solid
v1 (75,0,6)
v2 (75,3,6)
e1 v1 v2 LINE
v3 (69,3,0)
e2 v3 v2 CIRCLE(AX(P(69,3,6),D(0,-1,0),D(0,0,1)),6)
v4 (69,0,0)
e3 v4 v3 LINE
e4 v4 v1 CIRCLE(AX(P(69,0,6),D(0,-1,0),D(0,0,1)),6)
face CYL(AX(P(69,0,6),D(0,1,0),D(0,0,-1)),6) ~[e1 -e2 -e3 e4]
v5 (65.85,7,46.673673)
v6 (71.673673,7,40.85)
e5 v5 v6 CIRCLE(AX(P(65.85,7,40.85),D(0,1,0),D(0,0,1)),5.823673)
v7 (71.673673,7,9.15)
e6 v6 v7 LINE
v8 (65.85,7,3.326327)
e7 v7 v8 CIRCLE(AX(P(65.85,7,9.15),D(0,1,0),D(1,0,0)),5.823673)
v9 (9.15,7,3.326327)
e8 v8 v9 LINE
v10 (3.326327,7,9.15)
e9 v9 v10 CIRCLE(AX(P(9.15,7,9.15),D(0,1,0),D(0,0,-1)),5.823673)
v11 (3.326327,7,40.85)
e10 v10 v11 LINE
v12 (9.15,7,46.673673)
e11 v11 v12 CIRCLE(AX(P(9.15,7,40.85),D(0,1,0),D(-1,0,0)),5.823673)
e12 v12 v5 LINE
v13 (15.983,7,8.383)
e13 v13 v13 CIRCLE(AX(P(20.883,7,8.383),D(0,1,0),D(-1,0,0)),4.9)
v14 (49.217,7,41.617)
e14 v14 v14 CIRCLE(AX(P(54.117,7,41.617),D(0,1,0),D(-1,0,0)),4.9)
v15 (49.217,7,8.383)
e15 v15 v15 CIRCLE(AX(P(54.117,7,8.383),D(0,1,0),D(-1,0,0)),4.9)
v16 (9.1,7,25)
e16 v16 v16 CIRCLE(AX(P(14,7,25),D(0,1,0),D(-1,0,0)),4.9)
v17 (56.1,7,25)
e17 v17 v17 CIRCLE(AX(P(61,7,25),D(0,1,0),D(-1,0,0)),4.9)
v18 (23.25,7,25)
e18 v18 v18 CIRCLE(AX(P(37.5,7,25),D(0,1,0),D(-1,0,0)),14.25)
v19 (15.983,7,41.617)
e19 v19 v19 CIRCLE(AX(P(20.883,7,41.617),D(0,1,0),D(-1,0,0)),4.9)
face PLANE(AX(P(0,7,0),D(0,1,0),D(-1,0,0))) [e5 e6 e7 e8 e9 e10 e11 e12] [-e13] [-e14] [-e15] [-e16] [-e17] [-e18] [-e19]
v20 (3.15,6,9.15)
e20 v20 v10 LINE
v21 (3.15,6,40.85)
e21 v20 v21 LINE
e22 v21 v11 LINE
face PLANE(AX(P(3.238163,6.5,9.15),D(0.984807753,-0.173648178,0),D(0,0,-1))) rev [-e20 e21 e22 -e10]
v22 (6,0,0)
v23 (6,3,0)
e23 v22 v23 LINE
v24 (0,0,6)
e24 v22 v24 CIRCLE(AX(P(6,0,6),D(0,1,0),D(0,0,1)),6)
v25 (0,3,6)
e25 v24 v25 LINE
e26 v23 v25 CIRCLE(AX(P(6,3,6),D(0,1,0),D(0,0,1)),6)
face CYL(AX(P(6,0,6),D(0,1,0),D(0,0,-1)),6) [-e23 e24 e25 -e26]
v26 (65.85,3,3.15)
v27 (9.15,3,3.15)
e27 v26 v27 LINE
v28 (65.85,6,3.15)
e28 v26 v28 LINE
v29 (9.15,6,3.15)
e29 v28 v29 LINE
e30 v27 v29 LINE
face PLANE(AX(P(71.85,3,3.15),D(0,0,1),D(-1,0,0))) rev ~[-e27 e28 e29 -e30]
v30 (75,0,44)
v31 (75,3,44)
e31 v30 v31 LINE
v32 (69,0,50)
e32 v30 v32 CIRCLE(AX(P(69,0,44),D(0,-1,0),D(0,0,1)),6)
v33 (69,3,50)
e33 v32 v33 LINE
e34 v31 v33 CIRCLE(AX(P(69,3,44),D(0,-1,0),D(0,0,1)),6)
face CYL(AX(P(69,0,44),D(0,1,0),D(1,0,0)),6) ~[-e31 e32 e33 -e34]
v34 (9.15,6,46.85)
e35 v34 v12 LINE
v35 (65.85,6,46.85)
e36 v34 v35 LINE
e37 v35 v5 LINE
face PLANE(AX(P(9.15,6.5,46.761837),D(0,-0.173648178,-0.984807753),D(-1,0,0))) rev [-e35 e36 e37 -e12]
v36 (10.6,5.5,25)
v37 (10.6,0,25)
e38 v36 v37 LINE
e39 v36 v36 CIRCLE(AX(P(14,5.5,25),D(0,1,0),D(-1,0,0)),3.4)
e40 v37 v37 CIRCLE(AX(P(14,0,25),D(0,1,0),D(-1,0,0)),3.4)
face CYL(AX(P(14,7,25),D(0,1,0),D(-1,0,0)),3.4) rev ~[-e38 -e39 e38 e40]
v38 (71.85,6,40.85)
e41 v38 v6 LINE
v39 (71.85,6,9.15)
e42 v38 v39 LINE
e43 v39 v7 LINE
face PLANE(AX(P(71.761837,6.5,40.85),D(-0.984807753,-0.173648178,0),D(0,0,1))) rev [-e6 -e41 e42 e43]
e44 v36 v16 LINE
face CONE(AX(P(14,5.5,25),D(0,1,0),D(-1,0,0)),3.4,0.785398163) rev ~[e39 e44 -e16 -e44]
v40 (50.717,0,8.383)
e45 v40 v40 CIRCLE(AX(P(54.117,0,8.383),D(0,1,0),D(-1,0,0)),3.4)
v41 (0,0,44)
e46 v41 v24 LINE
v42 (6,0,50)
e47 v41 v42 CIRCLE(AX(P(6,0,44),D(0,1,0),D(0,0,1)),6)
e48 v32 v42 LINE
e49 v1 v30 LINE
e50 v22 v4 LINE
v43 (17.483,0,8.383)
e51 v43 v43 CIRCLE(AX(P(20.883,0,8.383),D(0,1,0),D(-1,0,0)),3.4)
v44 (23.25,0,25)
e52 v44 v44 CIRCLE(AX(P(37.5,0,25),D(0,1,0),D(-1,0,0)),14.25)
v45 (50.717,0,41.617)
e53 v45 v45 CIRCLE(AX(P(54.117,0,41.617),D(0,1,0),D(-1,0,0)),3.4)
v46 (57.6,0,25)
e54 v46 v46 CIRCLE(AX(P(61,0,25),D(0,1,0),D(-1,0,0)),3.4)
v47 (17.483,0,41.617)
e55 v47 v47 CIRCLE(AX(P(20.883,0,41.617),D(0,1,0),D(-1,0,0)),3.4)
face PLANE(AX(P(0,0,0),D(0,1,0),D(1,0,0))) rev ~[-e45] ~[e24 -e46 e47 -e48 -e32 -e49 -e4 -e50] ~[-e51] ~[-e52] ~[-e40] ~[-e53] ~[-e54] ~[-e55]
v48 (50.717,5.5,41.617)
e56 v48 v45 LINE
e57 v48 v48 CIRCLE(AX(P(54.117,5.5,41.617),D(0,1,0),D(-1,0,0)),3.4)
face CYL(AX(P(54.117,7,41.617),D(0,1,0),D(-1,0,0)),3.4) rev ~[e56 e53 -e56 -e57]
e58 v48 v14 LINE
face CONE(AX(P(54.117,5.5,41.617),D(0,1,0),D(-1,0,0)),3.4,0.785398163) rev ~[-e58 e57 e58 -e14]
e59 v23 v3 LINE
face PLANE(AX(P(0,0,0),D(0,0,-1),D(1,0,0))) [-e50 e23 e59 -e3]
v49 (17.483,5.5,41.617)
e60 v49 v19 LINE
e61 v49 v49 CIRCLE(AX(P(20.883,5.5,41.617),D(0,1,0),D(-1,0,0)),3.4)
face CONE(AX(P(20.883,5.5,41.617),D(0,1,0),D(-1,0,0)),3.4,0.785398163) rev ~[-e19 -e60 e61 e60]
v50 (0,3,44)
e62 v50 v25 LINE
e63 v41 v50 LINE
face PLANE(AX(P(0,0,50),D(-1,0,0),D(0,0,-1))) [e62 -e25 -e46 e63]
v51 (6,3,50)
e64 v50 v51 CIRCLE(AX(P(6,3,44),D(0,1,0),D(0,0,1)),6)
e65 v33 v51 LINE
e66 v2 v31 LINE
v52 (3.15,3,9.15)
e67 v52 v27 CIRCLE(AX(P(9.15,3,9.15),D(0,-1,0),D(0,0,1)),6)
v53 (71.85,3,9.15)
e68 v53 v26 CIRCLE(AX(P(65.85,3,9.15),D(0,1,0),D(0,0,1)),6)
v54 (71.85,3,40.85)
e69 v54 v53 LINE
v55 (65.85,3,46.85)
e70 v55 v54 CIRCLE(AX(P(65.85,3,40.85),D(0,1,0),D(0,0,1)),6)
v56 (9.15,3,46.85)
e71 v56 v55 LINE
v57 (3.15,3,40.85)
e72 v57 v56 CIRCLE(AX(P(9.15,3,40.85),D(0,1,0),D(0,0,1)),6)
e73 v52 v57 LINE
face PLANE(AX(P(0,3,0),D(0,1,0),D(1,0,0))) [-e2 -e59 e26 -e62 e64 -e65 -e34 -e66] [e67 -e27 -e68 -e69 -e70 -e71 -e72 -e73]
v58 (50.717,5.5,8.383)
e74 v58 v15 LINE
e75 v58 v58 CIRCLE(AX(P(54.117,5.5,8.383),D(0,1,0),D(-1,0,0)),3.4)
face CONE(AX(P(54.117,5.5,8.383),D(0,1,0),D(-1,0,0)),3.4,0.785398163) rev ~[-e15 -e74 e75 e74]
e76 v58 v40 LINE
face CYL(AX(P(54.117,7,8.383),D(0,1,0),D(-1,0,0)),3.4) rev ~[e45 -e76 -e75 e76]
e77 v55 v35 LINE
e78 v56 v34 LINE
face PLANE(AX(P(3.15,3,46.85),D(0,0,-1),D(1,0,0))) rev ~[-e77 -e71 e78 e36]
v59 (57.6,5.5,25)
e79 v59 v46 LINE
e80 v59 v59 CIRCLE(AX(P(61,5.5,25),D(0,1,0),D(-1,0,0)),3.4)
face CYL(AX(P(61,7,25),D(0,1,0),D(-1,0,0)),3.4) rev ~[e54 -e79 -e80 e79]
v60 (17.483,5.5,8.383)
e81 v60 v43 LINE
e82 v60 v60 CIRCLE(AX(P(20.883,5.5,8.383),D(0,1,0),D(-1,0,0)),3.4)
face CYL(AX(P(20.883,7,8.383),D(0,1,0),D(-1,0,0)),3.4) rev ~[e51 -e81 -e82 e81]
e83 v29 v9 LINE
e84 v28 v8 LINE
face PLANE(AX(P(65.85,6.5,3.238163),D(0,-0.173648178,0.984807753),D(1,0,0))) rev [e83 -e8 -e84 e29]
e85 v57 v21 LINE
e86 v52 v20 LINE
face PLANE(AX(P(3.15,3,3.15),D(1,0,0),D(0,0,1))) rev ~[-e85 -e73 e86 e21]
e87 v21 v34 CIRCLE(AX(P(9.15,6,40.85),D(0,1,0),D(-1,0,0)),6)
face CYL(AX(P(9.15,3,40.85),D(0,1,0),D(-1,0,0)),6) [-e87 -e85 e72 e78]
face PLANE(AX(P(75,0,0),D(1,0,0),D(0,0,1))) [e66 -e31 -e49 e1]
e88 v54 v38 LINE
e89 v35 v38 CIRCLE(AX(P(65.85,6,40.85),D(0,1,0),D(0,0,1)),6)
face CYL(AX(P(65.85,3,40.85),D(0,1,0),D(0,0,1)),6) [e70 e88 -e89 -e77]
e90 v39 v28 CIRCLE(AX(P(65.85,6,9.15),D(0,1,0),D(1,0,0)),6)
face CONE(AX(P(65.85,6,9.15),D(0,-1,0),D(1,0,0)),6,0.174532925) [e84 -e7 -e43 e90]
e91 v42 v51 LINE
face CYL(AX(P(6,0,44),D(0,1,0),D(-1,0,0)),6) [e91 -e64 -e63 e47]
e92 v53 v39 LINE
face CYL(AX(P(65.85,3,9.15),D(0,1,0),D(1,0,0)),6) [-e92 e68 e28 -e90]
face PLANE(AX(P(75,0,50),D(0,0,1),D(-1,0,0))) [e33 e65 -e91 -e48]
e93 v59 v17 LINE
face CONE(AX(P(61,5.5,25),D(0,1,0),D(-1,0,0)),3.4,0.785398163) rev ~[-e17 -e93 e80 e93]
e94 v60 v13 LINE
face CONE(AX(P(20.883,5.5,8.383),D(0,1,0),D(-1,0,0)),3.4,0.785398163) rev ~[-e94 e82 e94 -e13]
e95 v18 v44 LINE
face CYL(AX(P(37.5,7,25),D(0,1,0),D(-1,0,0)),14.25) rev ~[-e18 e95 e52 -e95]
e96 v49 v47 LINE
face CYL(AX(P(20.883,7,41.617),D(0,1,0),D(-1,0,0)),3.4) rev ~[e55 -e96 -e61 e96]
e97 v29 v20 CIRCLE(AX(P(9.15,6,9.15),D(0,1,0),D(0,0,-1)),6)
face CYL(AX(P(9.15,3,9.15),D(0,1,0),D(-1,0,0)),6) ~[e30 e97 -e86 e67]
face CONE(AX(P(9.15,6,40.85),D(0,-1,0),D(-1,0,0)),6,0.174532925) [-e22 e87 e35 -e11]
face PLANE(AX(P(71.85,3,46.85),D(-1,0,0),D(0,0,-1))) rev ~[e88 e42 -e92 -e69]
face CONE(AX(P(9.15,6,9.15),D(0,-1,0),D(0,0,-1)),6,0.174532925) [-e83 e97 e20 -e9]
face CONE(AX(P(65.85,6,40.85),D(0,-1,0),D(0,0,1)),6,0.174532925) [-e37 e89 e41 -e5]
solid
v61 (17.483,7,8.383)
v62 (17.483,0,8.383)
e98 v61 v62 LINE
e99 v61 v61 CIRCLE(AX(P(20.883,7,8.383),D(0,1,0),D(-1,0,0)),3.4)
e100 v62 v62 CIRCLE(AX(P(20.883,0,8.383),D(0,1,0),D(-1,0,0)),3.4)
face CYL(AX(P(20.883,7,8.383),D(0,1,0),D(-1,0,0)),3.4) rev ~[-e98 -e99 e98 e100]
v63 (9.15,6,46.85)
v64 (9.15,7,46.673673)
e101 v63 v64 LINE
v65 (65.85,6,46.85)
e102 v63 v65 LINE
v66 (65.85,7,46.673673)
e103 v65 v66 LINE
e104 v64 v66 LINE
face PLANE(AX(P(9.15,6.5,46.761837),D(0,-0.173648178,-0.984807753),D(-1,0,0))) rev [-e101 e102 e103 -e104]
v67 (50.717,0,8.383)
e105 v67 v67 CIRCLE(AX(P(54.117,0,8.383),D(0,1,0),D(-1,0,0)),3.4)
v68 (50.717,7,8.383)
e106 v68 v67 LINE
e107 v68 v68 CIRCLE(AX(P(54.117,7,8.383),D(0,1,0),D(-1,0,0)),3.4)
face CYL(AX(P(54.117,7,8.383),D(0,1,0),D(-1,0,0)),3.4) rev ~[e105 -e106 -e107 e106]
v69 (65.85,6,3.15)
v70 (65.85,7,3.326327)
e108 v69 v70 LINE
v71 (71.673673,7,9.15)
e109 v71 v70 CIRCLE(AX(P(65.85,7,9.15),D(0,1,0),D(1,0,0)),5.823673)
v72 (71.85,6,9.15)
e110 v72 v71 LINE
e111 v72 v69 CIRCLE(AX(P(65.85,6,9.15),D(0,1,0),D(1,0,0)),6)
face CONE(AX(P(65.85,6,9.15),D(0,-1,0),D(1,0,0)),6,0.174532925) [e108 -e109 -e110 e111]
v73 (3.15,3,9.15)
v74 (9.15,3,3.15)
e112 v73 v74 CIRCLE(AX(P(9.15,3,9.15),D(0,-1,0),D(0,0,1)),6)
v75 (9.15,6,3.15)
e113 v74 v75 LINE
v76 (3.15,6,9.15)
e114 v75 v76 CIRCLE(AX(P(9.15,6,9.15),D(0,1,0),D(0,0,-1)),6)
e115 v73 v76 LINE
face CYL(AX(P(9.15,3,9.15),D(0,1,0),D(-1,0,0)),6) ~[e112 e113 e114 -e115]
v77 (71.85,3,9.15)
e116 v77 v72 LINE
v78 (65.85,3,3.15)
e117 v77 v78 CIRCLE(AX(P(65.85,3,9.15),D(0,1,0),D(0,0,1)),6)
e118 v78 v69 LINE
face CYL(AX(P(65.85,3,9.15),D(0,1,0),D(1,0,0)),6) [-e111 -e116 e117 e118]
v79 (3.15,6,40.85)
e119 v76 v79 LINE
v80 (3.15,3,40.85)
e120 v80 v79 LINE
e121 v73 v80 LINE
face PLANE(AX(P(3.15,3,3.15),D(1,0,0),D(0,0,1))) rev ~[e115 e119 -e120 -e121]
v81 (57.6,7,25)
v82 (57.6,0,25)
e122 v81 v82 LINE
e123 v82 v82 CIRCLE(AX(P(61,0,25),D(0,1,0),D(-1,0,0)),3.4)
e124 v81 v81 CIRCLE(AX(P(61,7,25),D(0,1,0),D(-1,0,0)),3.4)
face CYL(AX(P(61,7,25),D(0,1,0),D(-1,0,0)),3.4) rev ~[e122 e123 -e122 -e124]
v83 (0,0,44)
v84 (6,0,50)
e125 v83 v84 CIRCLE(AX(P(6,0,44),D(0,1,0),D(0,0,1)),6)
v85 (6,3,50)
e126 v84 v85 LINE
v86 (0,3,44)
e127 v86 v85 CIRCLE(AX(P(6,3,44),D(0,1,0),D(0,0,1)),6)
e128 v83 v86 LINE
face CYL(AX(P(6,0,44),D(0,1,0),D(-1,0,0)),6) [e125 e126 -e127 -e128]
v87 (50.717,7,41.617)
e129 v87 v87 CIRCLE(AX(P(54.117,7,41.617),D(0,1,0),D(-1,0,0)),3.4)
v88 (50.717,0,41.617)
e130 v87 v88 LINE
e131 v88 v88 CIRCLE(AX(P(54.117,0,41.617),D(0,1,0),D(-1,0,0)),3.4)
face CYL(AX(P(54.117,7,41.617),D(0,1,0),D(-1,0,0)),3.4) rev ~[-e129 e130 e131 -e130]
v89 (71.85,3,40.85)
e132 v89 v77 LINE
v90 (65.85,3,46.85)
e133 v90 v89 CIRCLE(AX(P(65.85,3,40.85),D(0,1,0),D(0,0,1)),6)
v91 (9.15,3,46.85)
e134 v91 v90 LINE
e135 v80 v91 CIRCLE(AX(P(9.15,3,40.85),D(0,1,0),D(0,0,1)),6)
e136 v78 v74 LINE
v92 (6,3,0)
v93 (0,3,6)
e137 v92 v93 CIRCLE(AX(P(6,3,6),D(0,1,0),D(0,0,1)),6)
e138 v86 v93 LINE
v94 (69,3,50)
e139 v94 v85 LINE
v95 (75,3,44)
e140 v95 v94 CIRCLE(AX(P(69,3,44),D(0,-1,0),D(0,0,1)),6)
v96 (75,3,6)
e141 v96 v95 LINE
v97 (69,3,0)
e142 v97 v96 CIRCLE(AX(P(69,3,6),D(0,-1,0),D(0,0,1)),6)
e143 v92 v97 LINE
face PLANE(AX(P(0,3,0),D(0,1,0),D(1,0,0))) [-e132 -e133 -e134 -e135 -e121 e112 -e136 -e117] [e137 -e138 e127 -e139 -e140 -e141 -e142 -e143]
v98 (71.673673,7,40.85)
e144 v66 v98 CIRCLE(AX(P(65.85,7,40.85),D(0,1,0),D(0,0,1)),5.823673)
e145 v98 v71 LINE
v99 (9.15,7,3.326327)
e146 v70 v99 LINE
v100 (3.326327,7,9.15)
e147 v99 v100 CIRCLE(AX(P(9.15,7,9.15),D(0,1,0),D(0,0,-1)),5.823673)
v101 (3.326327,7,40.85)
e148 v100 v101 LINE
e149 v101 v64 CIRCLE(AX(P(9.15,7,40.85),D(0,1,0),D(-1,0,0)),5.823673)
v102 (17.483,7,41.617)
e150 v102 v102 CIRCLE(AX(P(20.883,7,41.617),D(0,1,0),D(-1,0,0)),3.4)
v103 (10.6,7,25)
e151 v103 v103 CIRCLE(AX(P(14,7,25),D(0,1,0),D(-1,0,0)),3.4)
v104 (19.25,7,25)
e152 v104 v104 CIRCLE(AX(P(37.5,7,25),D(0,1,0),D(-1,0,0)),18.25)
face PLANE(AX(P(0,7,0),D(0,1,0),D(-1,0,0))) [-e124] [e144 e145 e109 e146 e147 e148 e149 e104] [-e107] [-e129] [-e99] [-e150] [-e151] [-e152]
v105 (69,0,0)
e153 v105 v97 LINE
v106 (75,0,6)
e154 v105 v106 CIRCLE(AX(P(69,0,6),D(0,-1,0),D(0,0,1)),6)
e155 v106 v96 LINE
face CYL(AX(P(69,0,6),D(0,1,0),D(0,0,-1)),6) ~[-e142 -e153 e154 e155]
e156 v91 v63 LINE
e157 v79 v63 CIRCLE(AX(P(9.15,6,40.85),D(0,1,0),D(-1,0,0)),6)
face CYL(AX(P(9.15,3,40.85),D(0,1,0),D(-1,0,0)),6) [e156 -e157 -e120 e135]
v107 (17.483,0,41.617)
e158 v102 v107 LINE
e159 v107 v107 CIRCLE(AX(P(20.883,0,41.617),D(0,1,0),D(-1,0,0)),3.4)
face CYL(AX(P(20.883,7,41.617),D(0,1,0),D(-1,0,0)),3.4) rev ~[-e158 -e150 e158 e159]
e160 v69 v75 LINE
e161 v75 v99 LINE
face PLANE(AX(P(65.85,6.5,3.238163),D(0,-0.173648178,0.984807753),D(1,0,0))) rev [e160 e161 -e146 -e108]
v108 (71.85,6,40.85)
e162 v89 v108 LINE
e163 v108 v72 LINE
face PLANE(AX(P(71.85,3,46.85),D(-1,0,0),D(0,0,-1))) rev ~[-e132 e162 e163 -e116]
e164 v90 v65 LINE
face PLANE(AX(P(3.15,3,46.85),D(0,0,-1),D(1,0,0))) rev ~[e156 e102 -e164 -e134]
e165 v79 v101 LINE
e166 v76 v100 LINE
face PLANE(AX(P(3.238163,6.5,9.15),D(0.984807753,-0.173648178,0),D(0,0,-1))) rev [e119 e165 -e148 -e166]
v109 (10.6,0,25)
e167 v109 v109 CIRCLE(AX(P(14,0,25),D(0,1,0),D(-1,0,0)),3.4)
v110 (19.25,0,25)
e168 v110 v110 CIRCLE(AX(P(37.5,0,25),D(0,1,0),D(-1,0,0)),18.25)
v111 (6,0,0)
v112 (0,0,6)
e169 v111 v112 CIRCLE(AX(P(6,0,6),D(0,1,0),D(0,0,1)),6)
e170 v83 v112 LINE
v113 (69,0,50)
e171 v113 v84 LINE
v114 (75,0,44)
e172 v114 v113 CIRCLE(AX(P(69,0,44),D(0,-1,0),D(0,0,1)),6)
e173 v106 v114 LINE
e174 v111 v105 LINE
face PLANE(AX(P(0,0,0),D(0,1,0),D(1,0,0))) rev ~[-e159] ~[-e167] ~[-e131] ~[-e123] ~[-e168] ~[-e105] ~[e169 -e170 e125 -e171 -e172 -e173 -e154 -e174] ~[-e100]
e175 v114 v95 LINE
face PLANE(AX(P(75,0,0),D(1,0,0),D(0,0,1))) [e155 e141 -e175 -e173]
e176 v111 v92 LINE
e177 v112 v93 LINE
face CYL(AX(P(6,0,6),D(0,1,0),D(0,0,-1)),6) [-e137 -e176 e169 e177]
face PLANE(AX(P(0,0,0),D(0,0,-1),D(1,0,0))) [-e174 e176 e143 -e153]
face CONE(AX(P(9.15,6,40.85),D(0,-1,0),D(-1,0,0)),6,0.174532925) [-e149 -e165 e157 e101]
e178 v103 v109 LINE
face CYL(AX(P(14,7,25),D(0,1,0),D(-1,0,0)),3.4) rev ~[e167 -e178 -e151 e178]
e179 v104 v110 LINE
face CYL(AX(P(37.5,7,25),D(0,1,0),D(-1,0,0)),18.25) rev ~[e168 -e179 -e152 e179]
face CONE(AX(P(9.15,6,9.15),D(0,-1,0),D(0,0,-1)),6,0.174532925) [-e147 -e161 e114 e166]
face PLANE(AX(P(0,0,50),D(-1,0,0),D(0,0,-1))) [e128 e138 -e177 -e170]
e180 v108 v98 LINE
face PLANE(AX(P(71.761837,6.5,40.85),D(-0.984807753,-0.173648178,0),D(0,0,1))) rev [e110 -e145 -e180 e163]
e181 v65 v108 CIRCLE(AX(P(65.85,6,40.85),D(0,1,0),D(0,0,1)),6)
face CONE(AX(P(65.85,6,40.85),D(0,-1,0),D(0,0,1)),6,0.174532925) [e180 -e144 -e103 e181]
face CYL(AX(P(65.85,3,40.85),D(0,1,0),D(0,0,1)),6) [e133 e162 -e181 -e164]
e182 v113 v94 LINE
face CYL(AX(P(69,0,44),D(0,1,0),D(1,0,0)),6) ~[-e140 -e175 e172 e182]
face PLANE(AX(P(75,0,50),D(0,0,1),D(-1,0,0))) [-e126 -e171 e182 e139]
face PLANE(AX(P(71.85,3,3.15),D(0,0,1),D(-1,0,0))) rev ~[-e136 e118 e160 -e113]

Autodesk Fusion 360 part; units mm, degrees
sketch "Sketch1" plane through (0, 0, 0) normal (0, 1, 0) x (1, 0, 0) in component "2010 Ballscrew Plate"
  line L0 (0, 0) -> (75, 0)
  line L1 (75, 0) -> (75, -50)
  line L2 (75, -50) -> (0, -50)
  line L3 (0, -50) -> (0, 0)
  dimension "d5" = 75
  dimension "d6" = 50
extrude "Extrude1" add sketch "Sketch1" along normal blind 3 makes body 1 in component "2010 Ballscrew Plate"
sketch "Sketch2" plane through (0, 3, 0) normal (0, 1, 0) x (-1, 0, 0) in component "2010 Ballscrew Plate"
  line L0 (0, 50) -> (-75, 50)
  line L1 (-75, 50) -> (-75, 0)
  line L2 (-75, 0) -> (0, 0)
  line L3 (0, 0) -> (0, 50)
  line L4 (-75, 50) -> (0, 0) construction
  line L5 (-3.15, 46.85) -> (-71.85, 46.85)
  line L6 (-71.85, 46.85) -> (-71.85, 3.15)
  line L7 (-71.85, 3.15) -> (-3.15, 3.15)
  line L8 (-3.15, 3.15) -> (-3.15, 46.85)
  line L9 (-3.15, 46.85) -> (-71.85, 3.15) construction
  line L10 (-71.85, 46.85) -> (-3.15, 3.15) construction
  point P0 (-37.5, 25)
  dimension "d9" = 68.7
  dimension "d10" = 43.7
extrude "Extrude2" add sketch "Sketch2" along normal blind 4 contours L5 L6 L7 L8 bodies 1 in component "2010 Ballscrew Plate"
sketch "Sketch3" plane through (0, 7, 0) normal (0, 1, 0) x (-1, 0, 0) in component "2010 Ballscrew Plate"
  line L0 (-3.15, 3.15) -> (-3.15, 46.85)
  line L1 (-3.15, 46.85) -> (-71.85, 46.85)
  line L2 (-71.85, 46.85) -> (-71.85, 3.15)
  line L3 (-71.85, 3.15) -> (-3.15, 3.15)
  line L4 (-71.85, 46.85) -> (-3.15, 3.15) construction
  circle A0 centre (-37.5, 25) radius 18.25
  line L5 (-37.5, 25) -> (-14, 25) construction
  line L6 (-37.5, 25) -> (-61, 25) construction
  circle A1 centre (-61, 25) radius 3.4
  circle A2 centre (-14, 25) radius 3.4
  circle A3 centre (-20.883, 41.617) radius 3.4
  circle A4 centre (-54.117, 8.383) radius 3.4
  circle A5 centre (-54.117, 41.617) radius 3.4
  circle A6 centre (-20.883, 8.383) radius 3.4
  circle A7 centre (-61, 25) radius 3.4
  circle A8 centre (-14, 25) radius 3.4
  dimension "d13" = 36.5
  dimension "d14" = 23.5
  dimension "d15" = 23.5
  dimension "d16" = 6.8
  dimension "d17" = 6.8
  dimension "d19" = 180
extrude "Extrude3" cut sketch "Sketch3" against normal through all contours A0 | A1 A7 | A2 A8 | A3 | A4 | A5 | A6 bodies 1 in component "2010 Ballscrew Plate"
fillet "Fillet1" radius 6 8 edges at (71.85, 5, 46.85) (75, 1.5, 50) (0, 1.5, 50) (3.15, 5, 46.85) (3.15, 5, 3.15) (0, 1.5, 0) (75, 1.5, 0) (71.85, 5, 3.15) on bodies 1 in component "2010 Ballscrew Plate"
sketch "Sketch1 (2)" plane through (0, 0, 0) normal (0, 1, 0) x (1, 0, 0) in component "2010 Ballscrew Plate (Chamfered)"
  line L0 (0, 0) -> (75, 0)
  line L1 (75, 0) -> (75, -50)
  line L2 (75, -50) -> (0, -50)
  line L3 (0, -50) -> (0, 0)
  dimension "d5_1" = 75
  dimension "d6_1" = 50
extrude "Extrude1'" add sketch "Sketch1 (2)" along normal blind 3 separate body makes body 2 in component "2010 Ballscrew Plate (Chamfered)"
sketch "Sketch2 (2)" plane through (0, 3, 0) normal (0, 1, 0) x (-1, 0, 0) in component "2010 Ballscrew Plate (Chamfered)"
  line L0 (0, 50) -> (-75, 50)
  line L1 (-75, 50) -> (-75, 0)
  line L2 (-75, 0) -> (0, 0)
  line L3 (0, 0) -> (0, 50)
  line L4 (-75, 50) -> (0, 0) construction
  line L5 (-3.15, 46.85) -> (-71.85, 46.85)
  line L6 (-71.85, 46.85) -> (-71.85, 3.15)
  line L7 (-71.85, 3.15) -> (-3.15, 3.15)
  line L8 (-3.15, 3.15) -> (-3.15, 46.85)
  line L9 (-3.15, 46.85) -> (-71.85, 3.15) construction
  line L10 (-71.85, 46.85) -> (-3.15, 3.15) construction
  point P0 (-37.5, 25)
  dimension "d9_1" = 68.7
  dimension "d10_1" = 43.7
extrude "Extrude2'" add sketch "Sketch2 (2)" along normal blind 4 contours L5 L6 L7 L8 bodies 2 in component "2010 Ballscrew Plate (Chamfered)"
sketch "Sketch3 (2)" plane through (0, 7, 0) normal (0, 1, 0) x (-1, 0, 0) in component "2010 Ballscrew Plate (Chamfered)"
  line L0 (-3.15, 3.15) -> (-3.15, 46.85)
  line L1 (-3.15, 46.85) -> (-71.85, 46.85)
  line L2 (-71.85, 46.85) -> (-71.85, 3.15)
  line L3 (-71.85, 3.15) -> (-3.15, 3.15)
  line L4 (-71.85, 46.85) -> (-3.15, 3.15) construction
  circle A0 centre (-37.5, 25) radius 14.25
  line L5 (-37.5, 25) -> (-14, 25) construction
  line L6 (-37.5, 25) -> (-61, 25) construction
  circle A1 centre (-61, 25) radius 3.4
  circle A2 centre (-14, 25) radius 3.4
  circle A3 centre (-20.883, 41.617) radius 3.4
  circle A4 centre (-54.117, 8.383) radius 3.4
  circle A5 centre (-54.117, 41.617) radius 3.4
  circle A6 centre (-20.883, 8.383) radius 3.4
  circle A7 centre (-61, 25) radius 3.4
  circle A8 centre (-14, 25) radius 3.4
  dimension "d13_1" = 28.5
  dimension "d14_1" = 23.5
  dimension "d15_1" = 23.5
  dimension "d16_1" = 6.8
  dimension "d17_1" = 6.8
  dimension "d19_1" = 180
extrude "Extrude3'" cut sketch "Sketch3 (2)" against normal through all contours A0 | A1 A7 | A2 A8 | A3 | A4 | A5 | A6 bodies 2 in component "2010 Ballscrew Plate (Chamfered)"
fillet "Fillet1'" radius 6 8 edges at (71.85, 5, 46.85) (75, 1.5, 50) (0, 1.5, 50) (3.15, 5, 46.85) (3.15, 5, 3.15) (0, 1.5, 0) (75, 1.5, 0) (71.85, 5, 3.15) on bodies 2 in component "2010 Ballscrew Plate (Chamfered)"
chamfer "Chamfer1" distance 1.5 angle 45 6 edges at (57.2869, 7, 42.8465) (64.1699, 7, 26.2295) (57.2869, 7, 9.6125) (24.0529, 7, 9.6125) (17.1699, 7, 26.2295) (24.0529, 7, 42.8465) on bodies 2 in component "2010 Ballscrew Plate (Chamfered)"
chamfer "Chamfer2" distance 1 angle 10 8 edges at (70.0926, 7, 45.0926) (71.85, 7, 25) (70.0926, 7, 4.9074) (37.5, 7, 3.15) (4.9074, 7, 4.9074) (3.15, 7, 25) (4.9074, 7, 45.0926) (37.5, 7, 46.85) measured on face at (68.85, 4.3333, 46.0462) measured on face at (64.3906, 7, 36.6341) measured on face at (68.85, 5.6667, 3.9538) measured on face at (64.3906, 7, 36.6341) measured on face at (8.8645, 4.3333, 3.1568) measured on face at (64.3906, 7, 36.6341) measured on face at (8.8645, 4.3333, 46.8432) measured on face at (64.3906, 7, 36.6341) on bodies 2 in component "2010 Ballscrew Plate (Chamfered)"
chamfer "Chamfer1'" distance 1 angle 10 8 edges at (70.0926, 7, 45.0926) (71.85, 7, 25) (70.0926, 7, 4.9074) (37.5, 7, 3.15) (4.9074, 7, 4.9074) (3.15, 7, 25) (4.9074, 7, 45.0926) (37.5, 7, 46.85) measured on face at (68.85, 4.3333, 46.0462) measured on face at (63.7575, 7, 36.3856) measured on face at (68.85, 5.6667, 3.9538) measured on face at (63.7575, 7, 36.3856) measured on face at (8.8645, 4.3333, 3.1568) measured on face at (63.7575, 7, 36.3856) measured on face at (8.8645, 4.3333, 46.8432) measured on face at (63.7575, 7, 36.3856) on bodies 1 in component "2010 Ballscrew Plate"
component "2010 Ballscrew Plate" placed x (1, 0, 0) y (0, 1, 0) z (0, 0, 1) at (0, 0, 0)
component "2010 Ballscrew Plate (Chamfered)" placed x (1, 0, 0) y (0, 1, 0) z (0, 0, 1) at (0, 0, 0)
equation "extrusionTall = 75 mm"
equation "extrusionNarrow = 50 mm"
equation "extrusionRadius = 6 mm"
equation "extrusionThickness = 3 mm"
equation "d5 = extrusionTall"
equation "d6 = extrusionNarrow"
equation "d9 = extrusionTall - ( 2 * extrusionThickness ) - 0.3 mm"
equation "d10 = extrusionNarrow - ( 2 * extrusionThickness ) - 0.3 mm"
equation "d14 = ( 47 / 2 ) * 1 mm"
equation "d15 = ( 47 / 2 ) * 1 mm"
equation "d22 = extrusionRadius"
equation "d5_1 = extrusionTall"
equation "d6_1 = extrusionNarrow"
equation "d9_1 = extrusionTall - ( 2 * extrusionThickness ) - 0.3 mm"
equation "d10_1 = extrusionNarrow - ( 2 * extrusionThickness ) - 0.3 mm"
equation "d14_1 = ( 47 / 2 ) * 1 mm"
equation "d15_1 = ( 47 / 2 ) * 1 mm"
equation "d22_1 = extrusionRadius"
